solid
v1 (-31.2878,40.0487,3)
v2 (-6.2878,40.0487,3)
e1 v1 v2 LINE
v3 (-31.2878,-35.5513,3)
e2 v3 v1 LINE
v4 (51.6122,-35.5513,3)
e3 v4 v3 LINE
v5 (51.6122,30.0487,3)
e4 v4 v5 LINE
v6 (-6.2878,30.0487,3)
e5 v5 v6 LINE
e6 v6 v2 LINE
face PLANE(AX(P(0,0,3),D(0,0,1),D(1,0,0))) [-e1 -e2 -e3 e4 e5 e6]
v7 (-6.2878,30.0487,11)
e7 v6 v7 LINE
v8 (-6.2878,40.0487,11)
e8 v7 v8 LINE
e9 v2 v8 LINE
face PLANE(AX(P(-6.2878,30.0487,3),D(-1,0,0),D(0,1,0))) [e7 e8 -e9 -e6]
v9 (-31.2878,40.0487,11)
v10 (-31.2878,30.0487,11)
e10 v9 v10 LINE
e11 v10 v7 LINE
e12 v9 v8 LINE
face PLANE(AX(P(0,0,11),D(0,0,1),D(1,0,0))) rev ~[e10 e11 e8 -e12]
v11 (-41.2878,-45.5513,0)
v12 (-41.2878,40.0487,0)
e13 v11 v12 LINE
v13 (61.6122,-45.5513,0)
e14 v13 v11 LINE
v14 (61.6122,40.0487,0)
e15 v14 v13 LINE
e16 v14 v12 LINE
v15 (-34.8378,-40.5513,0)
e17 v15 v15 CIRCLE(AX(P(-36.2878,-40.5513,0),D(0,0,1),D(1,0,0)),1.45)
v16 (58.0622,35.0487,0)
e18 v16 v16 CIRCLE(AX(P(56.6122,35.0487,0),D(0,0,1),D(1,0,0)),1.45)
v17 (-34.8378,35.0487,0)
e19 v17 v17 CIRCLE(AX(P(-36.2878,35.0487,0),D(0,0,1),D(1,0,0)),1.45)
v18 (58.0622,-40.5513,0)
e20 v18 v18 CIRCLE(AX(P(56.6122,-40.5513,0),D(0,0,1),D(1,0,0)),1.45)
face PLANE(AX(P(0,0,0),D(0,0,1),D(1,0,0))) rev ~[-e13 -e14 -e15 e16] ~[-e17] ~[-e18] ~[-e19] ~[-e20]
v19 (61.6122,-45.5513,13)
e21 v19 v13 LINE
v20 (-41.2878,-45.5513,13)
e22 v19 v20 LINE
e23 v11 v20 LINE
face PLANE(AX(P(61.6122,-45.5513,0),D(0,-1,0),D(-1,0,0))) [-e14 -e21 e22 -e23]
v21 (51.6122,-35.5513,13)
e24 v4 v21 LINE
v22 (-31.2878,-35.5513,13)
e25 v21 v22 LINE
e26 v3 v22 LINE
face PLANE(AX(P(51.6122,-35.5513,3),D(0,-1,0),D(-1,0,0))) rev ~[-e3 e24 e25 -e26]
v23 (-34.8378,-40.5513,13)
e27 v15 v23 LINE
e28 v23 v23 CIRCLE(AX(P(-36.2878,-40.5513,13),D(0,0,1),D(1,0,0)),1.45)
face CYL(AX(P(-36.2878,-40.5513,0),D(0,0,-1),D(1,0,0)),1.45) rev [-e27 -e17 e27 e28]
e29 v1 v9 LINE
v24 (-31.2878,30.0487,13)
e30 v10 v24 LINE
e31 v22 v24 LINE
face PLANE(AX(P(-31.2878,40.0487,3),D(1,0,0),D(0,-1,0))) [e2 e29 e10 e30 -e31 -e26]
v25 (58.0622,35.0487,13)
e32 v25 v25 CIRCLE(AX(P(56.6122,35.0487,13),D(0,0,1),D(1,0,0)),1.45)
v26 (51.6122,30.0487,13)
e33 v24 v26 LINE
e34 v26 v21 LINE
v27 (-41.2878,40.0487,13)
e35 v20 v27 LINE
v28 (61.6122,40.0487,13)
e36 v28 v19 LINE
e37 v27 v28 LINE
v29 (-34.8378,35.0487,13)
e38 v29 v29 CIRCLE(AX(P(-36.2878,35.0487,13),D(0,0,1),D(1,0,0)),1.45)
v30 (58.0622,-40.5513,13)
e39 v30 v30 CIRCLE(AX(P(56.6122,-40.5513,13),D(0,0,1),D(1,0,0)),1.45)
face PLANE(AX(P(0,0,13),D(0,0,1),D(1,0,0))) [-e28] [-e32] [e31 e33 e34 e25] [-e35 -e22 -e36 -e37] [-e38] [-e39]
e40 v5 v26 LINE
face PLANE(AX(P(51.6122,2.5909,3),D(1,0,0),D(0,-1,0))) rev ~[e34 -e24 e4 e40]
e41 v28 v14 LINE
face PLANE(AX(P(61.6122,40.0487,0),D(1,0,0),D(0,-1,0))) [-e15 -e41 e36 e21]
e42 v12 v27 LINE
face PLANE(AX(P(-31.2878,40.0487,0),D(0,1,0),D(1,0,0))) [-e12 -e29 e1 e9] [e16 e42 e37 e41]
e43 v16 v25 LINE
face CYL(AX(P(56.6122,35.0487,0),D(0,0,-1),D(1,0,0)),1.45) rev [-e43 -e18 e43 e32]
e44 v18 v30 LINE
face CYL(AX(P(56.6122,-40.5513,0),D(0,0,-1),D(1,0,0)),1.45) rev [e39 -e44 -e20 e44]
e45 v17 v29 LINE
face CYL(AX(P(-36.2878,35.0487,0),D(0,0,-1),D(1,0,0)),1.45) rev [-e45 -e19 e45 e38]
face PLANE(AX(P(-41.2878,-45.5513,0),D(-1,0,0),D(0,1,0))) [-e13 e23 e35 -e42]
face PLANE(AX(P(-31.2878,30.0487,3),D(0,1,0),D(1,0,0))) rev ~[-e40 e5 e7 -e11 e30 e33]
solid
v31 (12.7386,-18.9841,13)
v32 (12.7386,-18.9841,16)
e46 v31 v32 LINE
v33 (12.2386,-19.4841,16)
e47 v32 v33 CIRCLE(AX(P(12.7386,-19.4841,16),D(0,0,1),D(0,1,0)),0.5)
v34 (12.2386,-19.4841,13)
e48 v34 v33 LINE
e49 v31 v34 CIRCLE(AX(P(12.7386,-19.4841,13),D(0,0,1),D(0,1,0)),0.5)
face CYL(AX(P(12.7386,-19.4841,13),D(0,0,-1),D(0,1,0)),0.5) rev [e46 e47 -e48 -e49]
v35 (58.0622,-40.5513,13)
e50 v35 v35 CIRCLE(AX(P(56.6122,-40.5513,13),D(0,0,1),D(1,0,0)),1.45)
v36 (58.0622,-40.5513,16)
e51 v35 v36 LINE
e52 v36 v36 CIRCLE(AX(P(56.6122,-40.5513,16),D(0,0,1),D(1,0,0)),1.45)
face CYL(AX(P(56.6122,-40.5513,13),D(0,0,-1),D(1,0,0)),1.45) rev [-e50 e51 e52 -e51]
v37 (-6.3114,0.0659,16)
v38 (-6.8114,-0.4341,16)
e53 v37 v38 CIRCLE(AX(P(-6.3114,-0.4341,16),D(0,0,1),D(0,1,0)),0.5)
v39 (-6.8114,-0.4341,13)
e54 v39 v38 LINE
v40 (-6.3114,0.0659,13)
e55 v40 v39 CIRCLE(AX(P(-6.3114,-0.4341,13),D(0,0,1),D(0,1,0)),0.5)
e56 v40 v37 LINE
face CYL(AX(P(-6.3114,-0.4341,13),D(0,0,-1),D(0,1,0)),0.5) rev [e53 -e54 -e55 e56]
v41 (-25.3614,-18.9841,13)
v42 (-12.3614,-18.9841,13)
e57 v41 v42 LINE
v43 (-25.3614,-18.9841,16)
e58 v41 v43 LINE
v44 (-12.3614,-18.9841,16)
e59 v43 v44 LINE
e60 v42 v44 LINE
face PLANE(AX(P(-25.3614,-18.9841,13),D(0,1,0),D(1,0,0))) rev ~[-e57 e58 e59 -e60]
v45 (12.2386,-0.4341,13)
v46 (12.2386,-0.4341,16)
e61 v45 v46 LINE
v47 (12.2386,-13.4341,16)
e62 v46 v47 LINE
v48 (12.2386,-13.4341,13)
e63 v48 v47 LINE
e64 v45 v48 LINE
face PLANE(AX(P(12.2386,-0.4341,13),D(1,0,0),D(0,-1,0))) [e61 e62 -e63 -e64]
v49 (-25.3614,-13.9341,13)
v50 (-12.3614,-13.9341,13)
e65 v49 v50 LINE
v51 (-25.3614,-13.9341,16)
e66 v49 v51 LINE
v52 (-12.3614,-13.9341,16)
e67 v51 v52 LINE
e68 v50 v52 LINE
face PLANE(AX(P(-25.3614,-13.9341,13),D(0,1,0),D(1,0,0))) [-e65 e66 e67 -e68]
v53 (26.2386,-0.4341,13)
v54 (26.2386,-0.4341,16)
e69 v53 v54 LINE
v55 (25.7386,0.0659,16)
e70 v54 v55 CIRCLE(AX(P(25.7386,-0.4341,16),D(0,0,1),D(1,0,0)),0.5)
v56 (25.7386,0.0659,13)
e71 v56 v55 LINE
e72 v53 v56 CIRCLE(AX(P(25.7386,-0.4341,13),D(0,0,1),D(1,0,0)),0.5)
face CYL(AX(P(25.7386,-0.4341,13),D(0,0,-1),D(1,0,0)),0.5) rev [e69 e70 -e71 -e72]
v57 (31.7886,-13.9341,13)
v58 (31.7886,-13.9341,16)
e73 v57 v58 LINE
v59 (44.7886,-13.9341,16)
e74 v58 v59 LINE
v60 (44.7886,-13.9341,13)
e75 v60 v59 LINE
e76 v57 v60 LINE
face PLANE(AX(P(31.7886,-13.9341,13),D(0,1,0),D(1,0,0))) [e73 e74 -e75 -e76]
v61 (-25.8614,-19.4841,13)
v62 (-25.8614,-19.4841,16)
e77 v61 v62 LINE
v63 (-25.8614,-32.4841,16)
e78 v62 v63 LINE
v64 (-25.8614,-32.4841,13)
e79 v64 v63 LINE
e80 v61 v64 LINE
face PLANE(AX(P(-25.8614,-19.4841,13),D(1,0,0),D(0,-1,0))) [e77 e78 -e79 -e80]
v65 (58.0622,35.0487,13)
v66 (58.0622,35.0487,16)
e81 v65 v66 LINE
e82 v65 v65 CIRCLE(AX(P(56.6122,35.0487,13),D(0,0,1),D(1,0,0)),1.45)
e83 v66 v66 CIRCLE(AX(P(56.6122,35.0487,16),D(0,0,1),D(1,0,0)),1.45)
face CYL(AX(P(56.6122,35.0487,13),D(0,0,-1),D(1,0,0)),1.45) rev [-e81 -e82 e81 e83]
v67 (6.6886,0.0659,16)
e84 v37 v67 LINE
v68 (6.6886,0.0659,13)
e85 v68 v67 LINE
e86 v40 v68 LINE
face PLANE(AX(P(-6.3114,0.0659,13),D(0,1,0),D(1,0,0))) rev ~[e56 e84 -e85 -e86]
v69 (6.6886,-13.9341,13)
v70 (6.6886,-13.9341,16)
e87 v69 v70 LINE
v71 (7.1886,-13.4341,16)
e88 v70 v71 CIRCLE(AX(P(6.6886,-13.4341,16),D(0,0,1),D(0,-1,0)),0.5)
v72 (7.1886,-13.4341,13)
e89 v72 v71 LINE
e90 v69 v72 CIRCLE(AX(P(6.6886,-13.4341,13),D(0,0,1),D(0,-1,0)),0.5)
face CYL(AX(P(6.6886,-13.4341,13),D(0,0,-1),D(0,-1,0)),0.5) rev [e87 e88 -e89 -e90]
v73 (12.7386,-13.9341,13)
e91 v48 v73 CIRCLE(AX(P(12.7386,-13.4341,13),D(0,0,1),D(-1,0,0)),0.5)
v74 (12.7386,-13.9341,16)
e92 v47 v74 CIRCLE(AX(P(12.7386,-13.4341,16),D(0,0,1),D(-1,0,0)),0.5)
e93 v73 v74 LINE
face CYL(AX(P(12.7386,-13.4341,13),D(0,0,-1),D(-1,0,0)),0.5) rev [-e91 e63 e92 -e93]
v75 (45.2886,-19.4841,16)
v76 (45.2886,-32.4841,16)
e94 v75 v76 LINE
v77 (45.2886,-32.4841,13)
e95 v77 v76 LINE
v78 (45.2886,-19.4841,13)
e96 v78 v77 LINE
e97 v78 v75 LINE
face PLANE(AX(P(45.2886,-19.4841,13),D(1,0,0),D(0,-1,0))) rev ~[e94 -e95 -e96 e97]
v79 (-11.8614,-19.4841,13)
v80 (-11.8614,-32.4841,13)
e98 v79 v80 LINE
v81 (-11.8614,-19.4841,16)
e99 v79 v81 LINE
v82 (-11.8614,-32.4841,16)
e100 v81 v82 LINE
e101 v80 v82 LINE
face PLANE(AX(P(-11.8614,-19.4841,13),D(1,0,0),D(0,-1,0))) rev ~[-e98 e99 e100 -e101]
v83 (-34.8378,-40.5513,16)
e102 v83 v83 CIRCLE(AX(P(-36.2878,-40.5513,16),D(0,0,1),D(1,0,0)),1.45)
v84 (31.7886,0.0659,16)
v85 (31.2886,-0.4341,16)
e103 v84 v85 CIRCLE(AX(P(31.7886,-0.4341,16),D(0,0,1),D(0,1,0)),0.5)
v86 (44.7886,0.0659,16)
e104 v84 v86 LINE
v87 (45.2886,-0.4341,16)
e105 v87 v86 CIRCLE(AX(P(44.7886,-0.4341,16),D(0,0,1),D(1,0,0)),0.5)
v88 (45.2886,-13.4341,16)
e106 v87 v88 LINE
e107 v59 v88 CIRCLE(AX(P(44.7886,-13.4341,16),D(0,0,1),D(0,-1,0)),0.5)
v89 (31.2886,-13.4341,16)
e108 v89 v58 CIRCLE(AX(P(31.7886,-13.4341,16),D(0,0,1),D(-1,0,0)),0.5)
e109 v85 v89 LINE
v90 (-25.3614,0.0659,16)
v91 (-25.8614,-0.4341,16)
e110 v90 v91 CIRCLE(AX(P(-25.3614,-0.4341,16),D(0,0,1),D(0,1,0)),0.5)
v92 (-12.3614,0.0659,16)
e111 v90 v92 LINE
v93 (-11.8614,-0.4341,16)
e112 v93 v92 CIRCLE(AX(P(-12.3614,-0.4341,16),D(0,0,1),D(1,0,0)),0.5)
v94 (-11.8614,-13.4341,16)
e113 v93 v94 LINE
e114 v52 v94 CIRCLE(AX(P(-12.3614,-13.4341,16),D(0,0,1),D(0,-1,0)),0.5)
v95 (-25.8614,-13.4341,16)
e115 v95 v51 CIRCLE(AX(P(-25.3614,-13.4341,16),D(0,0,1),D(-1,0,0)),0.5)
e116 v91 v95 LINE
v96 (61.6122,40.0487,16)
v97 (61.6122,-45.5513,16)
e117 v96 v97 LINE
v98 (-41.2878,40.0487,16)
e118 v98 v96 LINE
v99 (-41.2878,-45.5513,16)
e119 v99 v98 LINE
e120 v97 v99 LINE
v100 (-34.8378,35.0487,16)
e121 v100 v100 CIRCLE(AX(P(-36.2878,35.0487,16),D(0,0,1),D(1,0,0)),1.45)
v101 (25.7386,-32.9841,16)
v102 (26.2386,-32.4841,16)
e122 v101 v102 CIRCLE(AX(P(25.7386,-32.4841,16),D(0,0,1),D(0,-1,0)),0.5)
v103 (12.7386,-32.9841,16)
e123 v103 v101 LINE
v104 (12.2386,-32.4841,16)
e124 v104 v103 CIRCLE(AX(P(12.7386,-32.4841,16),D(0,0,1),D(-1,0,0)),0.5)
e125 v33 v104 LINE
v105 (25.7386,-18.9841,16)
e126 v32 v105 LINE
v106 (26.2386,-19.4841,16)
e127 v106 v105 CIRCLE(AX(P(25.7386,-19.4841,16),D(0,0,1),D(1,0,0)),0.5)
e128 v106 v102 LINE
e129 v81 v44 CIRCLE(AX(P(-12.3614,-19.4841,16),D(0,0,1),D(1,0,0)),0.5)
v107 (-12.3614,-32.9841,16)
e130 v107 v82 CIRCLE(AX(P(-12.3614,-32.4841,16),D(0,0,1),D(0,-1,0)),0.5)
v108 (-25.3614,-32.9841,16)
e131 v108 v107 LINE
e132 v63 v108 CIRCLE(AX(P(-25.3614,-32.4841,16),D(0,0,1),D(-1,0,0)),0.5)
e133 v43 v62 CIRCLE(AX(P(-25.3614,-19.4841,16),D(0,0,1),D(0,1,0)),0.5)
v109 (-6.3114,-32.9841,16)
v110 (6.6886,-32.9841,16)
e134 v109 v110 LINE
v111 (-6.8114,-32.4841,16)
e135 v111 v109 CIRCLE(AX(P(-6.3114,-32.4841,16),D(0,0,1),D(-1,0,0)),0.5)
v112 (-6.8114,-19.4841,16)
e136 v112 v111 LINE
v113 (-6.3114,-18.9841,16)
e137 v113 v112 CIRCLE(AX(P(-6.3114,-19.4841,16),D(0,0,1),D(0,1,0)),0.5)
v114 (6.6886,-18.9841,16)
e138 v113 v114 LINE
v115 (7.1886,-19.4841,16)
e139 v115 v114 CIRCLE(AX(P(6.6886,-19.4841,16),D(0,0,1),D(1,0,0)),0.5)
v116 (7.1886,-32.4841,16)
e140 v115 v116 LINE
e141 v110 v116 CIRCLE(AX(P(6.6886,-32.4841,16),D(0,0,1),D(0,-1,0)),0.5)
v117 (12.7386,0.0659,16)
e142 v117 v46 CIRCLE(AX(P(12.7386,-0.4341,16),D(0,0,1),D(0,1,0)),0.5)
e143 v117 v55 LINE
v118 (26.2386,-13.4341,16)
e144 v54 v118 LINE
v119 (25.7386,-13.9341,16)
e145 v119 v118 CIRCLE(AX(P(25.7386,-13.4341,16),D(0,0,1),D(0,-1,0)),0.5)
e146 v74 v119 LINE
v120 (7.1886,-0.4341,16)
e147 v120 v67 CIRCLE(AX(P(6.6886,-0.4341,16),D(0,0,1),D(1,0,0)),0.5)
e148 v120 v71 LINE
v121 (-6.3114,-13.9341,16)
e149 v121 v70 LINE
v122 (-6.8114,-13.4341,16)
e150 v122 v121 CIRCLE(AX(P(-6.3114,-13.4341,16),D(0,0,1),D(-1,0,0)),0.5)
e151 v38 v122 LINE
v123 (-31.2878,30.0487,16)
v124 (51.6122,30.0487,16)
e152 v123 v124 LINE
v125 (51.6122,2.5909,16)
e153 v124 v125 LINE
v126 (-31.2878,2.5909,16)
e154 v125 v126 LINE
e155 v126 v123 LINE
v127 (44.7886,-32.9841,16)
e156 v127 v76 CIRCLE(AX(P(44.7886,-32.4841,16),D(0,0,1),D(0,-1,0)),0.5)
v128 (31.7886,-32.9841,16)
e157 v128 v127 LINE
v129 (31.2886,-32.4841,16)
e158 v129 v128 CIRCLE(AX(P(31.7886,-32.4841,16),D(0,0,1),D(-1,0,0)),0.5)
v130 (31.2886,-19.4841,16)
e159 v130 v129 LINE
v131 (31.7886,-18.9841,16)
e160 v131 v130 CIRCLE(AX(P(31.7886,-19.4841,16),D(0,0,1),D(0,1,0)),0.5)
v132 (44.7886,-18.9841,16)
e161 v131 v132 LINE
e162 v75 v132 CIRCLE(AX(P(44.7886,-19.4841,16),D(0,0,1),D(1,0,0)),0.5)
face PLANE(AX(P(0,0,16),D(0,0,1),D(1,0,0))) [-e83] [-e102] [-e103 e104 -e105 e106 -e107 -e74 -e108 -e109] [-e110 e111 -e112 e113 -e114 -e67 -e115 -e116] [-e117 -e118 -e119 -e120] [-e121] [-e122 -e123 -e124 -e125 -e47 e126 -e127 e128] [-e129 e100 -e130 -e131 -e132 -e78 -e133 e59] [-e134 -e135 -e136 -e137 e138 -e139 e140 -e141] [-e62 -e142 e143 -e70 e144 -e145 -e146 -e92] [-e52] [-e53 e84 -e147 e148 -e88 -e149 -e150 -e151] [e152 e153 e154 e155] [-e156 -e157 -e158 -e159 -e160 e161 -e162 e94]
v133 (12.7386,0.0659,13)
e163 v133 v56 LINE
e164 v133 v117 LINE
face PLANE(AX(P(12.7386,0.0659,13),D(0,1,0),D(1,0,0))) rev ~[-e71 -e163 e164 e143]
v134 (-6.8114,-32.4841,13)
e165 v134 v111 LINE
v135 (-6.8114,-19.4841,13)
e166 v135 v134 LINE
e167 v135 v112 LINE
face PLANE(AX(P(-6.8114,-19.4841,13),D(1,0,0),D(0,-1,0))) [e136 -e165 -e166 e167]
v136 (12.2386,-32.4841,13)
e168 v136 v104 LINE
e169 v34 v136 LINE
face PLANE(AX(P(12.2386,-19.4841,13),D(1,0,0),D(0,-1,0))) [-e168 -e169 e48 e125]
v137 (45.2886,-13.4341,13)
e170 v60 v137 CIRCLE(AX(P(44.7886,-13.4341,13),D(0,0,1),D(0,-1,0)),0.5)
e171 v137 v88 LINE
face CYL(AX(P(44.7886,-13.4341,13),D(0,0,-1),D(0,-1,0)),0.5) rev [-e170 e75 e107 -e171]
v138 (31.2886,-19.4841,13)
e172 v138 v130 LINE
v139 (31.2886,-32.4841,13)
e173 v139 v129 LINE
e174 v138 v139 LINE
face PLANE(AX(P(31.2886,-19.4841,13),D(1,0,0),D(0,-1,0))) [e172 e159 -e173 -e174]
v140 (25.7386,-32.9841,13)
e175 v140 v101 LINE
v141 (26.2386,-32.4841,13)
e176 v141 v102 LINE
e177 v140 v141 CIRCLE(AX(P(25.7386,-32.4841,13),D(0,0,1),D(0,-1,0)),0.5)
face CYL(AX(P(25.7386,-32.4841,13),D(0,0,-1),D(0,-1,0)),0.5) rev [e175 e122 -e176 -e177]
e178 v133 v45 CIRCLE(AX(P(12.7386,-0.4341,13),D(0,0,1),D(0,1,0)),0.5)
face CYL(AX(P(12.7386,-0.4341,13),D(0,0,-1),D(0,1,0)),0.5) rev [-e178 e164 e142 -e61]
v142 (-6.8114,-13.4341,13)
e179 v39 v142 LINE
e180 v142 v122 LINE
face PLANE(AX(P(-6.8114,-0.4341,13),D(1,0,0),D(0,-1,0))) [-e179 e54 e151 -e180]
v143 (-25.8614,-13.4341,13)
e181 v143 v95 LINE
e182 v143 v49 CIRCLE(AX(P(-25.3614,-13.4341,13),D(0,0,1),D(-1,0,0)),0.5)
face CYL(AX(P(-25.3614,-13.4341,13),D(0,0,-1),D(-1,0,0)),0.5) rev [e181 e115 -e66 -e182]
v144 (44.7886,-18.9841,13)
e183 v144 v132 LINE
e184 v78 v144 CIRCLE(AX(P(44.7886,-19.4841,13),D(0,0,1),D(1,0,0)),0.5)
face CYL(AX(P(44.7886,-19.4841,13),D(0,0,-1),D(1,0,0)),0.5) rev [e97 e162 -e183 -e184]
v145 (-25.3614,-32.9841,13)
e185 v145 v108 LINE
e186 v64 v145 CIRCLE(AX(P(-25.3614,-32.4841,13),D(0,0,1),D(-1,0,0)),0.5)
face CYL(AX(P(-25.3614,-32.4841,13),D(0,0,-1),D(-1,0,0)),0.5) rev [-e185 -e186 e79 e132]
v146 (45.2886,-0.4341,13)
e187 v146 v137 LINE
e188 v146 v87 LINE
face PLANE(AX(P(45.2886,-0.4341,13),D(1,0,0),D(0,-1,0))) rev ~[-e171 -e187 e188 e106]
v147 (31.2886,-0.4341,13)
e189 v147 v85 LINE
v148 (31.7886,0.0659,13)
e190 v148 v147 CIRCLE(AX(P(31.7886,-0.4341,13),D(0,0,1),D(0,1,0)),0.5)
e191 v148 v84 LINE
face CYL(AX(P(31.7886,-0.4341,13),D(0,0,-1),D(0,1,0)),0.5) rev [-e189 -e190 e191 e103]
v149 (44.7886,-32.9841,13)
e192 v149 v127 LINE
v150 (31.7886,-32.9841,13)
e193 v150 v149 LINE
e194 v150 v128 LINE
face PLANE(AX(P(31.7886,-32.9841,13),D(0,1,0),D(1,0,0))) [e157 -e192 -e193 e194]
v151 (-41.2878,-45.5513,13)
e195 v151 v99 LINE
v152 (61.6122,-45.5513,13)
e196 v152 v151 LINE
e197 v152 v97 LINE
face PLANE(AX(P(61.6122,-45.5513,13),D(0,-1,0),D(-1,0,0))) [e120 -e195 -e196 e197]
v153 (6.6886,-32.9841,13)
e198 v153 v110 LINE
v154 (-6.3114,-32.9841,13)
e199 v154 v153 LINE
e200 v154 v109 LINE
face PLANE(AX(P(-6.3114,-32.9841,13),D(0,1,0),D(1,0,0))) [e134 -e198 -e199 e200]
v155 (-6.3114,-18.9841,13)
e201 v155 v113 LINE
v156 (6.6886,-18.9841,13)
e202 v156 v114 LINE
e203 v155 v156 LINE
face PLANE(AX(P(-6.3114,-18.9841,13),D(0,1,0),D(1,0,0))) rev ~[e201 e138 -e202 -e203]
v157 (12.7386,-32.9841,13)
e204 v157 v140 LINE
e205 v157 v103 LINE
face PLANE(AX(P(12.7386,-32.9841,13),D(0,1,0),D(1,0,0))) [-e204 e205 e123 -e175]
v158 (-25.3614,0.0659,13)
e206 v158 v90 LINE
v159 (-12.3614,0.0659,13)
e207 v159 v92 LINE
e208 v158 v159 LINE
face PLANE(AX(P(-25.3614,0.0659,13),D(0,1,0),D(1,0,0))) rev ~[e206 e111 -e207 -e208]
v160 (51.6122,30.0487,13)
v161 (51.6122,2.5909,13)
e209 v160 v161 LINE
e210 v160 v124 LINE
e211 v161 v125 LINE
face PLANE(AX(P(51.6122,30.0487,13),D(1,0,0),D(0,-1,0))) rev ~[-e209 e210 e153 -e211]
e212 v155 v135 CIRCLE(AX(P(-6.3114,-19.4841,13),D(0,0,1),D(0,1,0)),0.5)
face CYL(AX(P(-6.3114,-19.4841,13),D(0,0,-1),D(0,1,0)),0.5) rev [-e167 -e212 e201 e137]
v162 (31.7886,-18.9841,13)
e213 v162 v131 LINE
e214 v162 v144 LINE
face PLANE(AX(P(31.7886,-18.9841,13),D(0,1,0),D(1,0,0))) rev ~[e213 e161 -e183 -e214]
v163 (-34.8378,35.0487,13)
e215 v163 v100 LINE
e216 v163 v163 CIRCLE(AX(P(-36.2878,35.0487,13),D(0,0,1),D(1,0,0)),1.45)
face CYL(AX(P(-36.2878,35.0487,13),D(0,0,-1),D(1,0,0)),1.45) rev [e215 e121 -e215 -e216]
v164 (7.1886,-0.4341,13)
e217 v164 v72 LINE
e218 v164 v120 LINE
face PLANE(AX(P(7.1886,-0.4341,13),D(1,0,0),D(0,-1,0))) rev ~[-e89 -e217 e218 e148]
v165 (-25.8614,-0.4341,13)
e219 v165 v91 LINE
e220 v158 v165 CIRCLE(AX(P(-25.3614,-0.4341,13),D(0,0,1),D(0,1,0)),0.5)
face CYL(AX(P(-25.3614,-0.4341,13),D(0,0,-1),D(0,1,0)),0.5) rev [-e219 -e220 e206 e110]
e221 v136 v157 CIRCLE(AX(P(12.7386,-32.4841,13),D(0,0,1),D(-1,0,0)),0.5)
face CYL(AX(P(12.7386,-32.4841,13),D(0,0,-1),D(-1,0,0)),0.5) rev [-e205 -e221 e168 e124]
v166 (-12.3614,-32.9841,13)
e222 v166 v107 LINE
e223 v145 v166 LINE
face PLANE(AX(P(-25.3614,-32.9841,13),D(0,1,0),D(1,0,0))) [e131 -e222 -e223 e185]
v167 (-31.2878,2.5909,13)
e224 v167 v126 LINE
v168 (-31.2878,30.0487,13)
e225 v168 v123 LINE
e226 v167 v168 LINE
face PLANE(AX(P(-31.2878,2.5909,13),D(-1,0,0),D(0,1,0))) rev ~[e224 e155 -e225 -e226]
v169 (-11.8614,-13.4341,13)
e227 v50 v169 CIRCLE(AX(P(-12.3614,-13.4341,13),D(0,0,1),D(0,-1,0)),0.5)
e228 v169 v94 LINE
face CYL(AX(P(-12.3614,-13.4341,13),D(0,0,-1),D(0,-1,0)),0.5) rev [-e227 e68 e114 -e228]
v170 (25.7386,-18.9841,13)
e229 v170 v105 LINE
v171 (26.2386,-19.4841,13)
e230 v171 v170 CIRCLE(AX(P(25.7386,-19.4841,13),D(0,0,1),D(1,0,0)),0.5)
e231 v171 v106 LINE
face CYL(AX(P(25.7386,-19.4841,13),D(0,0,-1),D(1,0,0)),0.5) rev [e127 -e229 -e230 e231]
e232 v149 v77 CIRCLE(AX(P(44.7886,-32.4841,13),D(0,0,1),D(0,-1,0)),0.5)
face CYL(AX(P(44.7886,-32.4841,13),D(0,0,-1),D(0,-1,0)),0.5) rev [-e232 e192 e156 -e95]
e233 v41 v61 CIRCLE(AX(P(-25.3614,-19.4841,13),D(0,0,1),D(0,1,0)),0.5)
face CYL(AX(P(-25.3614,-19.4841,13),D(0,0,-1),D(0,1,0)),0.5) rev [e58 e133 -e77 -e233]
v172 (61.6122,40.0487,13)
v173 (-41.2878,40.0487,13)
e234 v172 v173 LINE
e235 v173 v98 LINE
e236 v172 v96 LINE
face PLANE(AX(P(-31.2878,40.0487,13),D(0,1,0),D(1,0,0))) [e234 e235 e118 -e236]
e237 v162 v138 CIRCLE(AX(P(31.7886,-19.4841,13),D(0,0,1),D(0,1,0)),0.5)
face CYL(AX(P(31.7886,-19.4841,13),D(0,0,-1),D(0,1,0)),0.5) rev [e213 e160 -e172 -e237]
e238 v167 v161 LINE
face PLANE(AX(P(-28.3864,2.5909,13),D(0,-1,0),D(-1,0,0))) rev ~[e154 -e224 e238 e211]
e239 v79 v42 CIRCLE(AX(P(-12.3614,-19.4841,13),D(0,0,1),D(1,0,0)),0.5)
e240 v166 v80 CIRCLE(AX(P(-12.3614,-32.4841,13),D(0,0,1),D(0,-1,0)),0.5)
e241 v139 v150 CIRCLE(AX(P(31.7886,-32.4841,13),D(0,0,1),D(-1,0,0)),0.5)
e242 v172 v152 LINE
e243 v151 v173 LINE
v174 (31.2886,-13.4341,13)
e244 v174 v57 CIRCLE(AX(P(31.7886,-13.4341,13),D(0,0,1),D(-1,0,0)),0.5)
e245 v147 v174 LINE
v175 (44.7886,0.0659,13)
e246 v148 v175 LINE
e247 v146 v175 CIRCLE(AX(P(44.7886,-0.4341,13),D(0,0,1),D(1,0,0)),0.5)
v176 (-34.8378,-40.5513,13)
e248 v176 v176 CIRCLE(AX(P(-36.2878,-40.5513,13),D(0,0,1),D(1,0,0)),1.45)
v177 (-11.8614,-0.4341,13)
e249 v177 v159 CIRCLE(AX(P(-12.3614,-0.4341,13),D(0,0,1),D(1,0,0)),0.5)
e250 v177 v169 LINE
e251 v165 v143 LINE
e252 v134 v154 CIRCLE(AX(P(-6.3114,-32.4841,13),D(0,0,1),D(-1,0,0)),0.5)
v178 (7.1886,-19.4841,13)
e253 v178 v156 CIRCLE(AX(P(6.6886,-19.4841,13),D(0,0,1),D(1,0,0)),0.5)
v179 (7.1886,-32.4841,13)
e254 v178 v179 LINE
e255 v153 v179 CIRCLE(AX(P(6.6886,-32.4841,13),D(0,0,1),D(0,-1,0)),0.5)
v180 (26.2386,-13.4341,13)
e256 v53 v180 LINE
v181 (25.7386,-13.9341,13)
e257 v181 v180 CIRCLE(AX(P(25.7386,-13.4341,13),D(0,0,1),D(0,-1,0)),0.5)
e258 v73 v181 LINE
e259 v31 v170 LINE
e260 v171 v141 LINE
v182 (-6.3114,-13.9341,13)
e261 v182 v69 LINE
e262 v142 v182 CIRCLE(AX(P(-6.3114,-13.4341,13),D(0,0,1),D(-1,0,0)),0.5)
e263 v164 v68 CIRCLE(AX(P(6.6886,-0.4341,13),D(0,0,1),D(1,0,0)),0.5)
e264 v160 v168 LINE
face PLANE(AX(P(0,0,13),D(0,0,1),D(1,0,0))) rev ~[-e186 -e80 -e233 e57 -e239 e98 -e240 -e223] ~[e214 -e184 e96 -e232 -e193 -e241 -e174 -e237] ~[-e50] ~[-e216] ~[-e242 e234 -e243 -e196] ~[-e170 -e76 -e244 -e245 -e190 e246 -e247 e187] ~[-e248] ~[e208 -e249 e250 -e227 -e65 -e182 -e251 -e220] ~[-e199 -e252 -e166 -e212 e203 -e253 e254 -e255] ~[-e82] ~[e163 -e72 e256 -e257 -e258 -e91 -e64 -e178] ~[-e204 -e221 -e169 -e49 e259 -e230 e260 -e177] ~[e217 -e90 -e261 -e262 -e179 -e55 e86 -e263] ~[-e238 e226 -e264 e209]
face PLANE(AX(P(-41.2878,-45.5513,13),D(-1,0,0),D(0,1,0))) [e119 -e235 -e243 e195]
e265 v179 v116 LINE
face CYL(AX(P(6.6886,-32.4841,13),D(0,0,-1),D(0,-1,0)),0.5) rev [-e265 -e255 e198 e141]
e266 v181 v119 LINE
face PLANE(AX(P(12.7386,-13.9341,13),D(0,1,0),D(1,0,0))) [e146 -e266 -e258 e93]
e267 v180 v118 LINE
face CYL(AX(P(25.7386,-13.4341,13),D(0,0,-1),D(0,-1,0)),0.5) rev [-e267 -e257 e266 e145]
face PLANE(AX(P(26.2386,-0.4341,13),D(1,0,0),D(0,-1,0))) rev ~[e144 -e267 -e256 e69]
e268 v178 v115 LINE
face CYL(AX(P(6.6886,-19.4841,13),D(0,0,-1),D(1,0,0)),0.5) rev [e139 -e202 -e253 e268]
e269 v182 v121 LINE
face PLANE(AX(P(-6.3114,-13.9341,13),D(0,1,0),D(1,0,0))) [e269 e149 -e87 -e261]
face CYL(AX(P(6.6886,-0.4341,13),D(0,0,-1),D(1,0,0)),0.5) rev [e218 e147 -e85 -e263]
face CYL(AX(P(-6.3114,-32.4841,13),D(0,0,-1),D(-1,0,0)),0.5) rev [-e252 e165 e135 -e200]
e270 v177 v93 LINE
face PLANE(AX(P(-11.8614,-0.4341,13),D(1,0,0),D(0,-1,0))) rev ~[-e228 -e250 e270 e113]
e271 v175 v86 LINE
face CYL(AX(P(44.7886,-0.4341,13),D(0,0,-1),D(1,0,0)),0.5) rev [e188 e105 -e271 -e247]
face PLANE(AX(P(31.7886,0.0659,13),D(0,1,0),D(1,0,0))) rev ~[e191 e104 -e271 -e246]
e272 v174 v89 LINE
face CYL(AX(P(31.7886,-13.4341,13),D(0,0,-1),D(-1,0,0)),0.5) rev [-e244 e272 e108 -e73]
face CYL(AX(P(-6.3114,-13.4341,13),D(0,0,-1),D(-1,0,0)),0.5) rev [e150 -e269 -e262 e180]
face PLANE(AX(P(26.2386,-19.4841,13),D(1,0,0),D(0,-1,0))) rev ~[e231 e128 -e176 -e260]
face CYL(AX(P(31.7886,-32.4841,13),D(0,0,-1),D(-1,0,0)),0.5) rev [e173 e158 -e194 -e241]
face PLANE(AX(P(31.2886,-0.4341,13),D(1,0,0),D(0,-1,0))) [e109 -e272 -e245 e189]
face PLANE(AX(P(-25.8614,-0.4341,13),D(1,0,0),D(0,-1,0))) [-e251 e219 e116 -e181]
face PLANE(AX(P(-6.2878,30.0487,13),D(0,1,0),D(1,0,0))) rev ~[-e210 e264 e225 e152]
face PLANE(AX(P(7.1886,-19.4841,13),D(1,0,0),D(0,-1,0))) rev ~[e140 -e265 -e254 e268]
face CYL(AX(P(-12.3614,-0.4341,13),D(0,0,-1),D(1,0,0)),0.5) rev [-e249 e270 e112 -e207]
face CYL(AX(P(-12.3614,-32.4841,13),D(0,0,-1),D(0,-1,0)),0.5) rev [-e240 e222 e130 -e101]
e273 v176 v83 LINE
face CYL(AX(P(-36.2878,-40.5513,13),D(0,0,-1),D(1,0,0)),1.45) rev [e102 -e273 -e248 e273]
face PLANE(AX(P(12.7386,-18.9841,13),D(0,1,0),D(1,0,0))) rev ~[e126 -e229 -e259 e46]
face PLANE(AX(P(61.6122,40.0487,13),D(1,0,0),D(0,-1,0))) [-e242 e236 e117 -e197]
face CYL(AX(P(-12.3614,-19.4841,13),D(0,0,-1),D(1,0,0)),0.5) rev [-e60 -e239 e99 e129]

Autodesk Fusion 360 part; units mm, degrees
sketch "Sketch2" plane through (0, 0, 0) normal (0, 0, 1) x (1, 0, 0)
  line L0 (-31.2878, 30.0487) -> (51.6122, 30.0487)
  line L1 (51.6122, 30.0487) -> (51.6122, -35.5513)
  line L2 (51.6122, -35.5513) -> (-31.2878, -35.5513)
  line L3 (-31.2878, -35.5513) -> (-31.2878, 30.0487)
  line L4 (-41.2878, 40.0487) -> (61.6122, 40.0487)
  line L5 (61.6122, 40.0487) -> (61.6122, -45.5513)
  line L6 (61.6122, -45.5513) -> (-41.2878, -45.5513)
  line L7 (-41.2878, -45.5513) -> (-41.2878, 40.0487)
  circle A0 centre (-36.2878, 35.0487) radius 1.45
  circle A1 centre (56.6122, 35.0487) radius 1.45
  circle A2 centre (56.6122, -40.5513) radius 1.45
  circle A3 centre (-36.2878, -40.5513) radius 1.45
  line L8 (-25.3614, 0.0659) -> (-12.3614, 0.0659)
  line L9 (-25.3614, -13.9341) -> (-12.3614, -13.9341)
  line L10 (-25.8614, -0.4341) -> (-25.8614, -13.4341)
  line L11 (-11.8614, -0.4341) -> (-11.8614, -13.4341)
  arc A4 (-25.3614, 0.0659) -> (-25.8614, -0.4341) centre (-25.3614, -0.4341) ccw
  arc A5 (-11.8614, -0.4341) -> (-12.3614, 0.0659) centre (-12.3614, -0.4341) ccw
  arc A6 (-25.8614, -13.4341) -> (-25.3614, -13.9341) centre (-25.3614, -13.4341) ccw
  arc A7 (-12.3614, -13.9341) -> (-11.8614, -13.4341) centre (-12.3614, -13.4341) ccw
  line L12 (-6.3114, 0.0659) -> (6.6886, 0.0659)
  line L13 (-6.3114, -13.9341) -> (6.6886, -13.9341)
  line L14 (-6.8114, -0.4341) -> (-6.8114, -13.4341)
  line L15 (7.1886, -0.4341) -> (7.1886, -13.4341)
  arc A8 (-6.3114, 0.0659) -> (-6.8114, -0.4341) centre (-6.3114, -0.4341) ccw
  arc A9 (7.1886, -0.4341) -> (6.6886, 0.0659) centre (6.6886, -0.4341) ccw
  arc A10 (-6.8114, -13.4341) -> (-6.3114, -13.9341) centre (-6.3114, -13.4341) ccw
  arc A11 (6.6886, -13.9341) -> (7.1886, -13.4341) centre (6.6886, -13.4341) ccw
  line L16 (12.7386, 0.0659) -> (25.7386, 0.0659)
  line L17 (12.7386, -13.9341) -> (25.7386, -13.9341)
  line L18 (12.2386, -0.4341) -> (12.2386, -13.4341)
  line L19 (26.2386, -0.4341) -> (26.2386, -13.4341)
  arc A12 (12.7386, 0.0659) -> (12.2386, -0.4341) centre (12.7386, -0.4341) ccw
  arc A13 (26.2386, -0.4341) -> (25.7386, 0.0659) centre (25.7386, -0.4341) ccw
  arc A14 (12.2386, -13.4341) -> (12.7386, -13.9341) centre (12.7386, -13.4341) ccw
  arc A15 (25.7386, -13.9341) -> (26.2386, -13.4341) centre (25.7386, -13.4341) ccw
  line L20 (31.7886, 0.0659) -> (44.7886, 0.0659)
  line L21 (31.7886, -13.9341) -> (44.7886, -13.9341)
  line L22 (31.2886, -0.4341) -> (31.2886, -13.4341)
  line L23 (45.2886, -0.4341) -> (45.2886, -13.4341)
  arc A16 (31.7886, 0.0659) -> (31.2886, -0.4341) centre (31.7886, -0.4341) ccw
  arc A17 (45.2886, -0.4341) -> (44.7886, 0.0659) centre (44.7886, -0.4341) ccw
  arc A18 (31.2886, -13.4341) -> (31.7886, -13.9341) centre (31.7886, -13.4341) ccw
  arc A19 (44.7886, -13.9341) -> (45.2886, -13.4341) centre (44.7886, -13.4341) ccw
  line L24 (-25.3614, -18.9841) -> (-12.3614, -18.9841)
  line L25 (-25.3614, -32.9841) -> (-12.3614, -32.9841)
  line L26 (-25.8614, -19.4841) -> (-25.8614, -32.4841)
  line L27 (-11.8614, -19.4841) -> (-11.8614, -32.4841)
  arc A20 (-25.3614, -18.9841) -> (-25.8614, -19.4841) centre (-25.3614, -19.4841) ccw
  arc A21 (-11.8614, -19.4841) -> (-12.3614, -18.9841) centre (-12.3614, -19.4841) ccw
  arc A22 (-25.8614, -32.4841) -> (-25.3614, -32.9841) centre (-25.3614, -32.4841) ccw
  arc A23 (-12.3614, -32.9841) -> (-11.8614, -32.4841) centre (-12.3614, -32.4841) ccw
  line L28 (-6.3114, -18.9841) -> (6.6886, -18.9841)
  line L29 (-6.3114, -32.9841) -> (6.6886, -32.9841)
  line L30 (-6.8114, -19.4841) -> (-6.8114, -32.4841)
  line L31 (7.1886, -19.4841) -> (7.1886, -32.4841)
  arc A24 (-6.3114, -18.9841) -> (-6.8114, -19.4841) centre (-6.3114, -19.4841) ccw
  arc A25 (7.1886, -19.4841) -> (6.6886, -18.9841) centre (6.6886, -19.4841) ccw
  arc A26 (-6.8114, -32.4841) -> (-6.3114, -32.9841) centre (-6.3114, -32.4841) ccw
  arc A27 (6.6886, -32.9841) -> (7.1886, -32.4841) centre (6.6886, -32.4841) ccw
  line L32 (12.7386, -18.9841) -> (25.7386, -18.9841)
  line L33 (12.7386, -32.9841) -> (25.7386, -32.9841)
  line L34 (12.2386, -19.4841) -> (12.2386, -32.4841)
  line L35 (26.2386, -19.4841) -> (26.2386, -32.4841)
  arc A28 (12.7386, -18.9841) -> (12.2386, -19.4841) centre (12.7386, -19.4841) ccw
  arc A29 (26.2386, -19.4841) -> (25.7386, -18.9841) centre (25.7386, -19.4841) ccw
  arc A30 (12.2386, -32.4841) -> (12.7386, -32.9841) centre (12.7386, -32.4841) ccw
  arc A31 (25.7386, -32.9841) -> (26.2386, -32.4841) centre (25.7386, -32.4841) ccw
  line L36 (31.7886, -18.9841) -> (44.7886, -18.9841)
  line L37 (31.7886, -32.9841) -> (44.7886, -32.9841)
  line L38 (31.2886, -19.4841) -> (31.2886, -32.4841)
  line L39 (45.2886, -19.4841) -> (45.2886, -32.4841)
  arc A32 (31.7886, -18.9841) -> (31.2886, -19.4841) centre (31.7886, -19.4841) ccw
  arc A33 (45.2886, -19.4841) -> (44.7886, -18.9841) centre (44.7886, -19.4841) ccw
  arc A34 (31.2886, -32.4841) -> (31.7886, -32.9841) centre (31.7886, -32.4841) ccw
  arc A35 (44.7886, -32.9841) -> (45.2886, -32.4841) centre (44.7886, -32.4841) ccw
  line L40 (-28.3864, -35.5091) -> (47.8136, -35.5091)
  line L41 (-28.3864, 2.5909) -> (47.8136, 2.5909)
  line L42 (-28.3864, -35.5091) -> (-28.3864, 2.5909)
  line L43 (47.8136, -35.5091) -> (47.8136, 2.5909)
  line L44 (-31.2878, 30.0487) -> (51.6122, 30.0487)
  line L45 (51.6122, 30.0487) -> (51.6122, 2.5909)
  line L46 (51.6122, 2.5909) -> (-31.2878, 2.5909)
  line L47 (-31.2878, 2.5909) -> (-31.2878, 30.0487)
  line L48 (-31.2878, 30.0487) -> (-6.2878, 30.0487)
  line L49 (-6.2878, 30.0487) -> (-6.2878, 40.0487)
  line L50 (-6.2878, 40.0487) -> (-31.2878, 40.0487)
  line L51 (-31.2878, 40.0487) -> (-31.2878, 30.0487)
  dimension "d3" = 65.6
  dimension "d4" = 82.9
  dimension "d5" = 10
  dimension "d6" = 10
  dimension "d7" = 10
  dimension "d8" = 10
  dimension "d9" = 2.9
  dimension "d10" = 5
  dimension "d11" = 5
  dimension "d12" = 2.9
  dimension "d13" = 5
  dimension "d14" = 5
  dimension "d15" = 2.9
  dimension "d16" = 5
  dimension "d17" = 5
  dimension "d18" = 2.9
  dimension "d19" = 5
  dimension "d20" = 5
  dimension "d32" = 25
extrude "Extrude1" add sketch "Sketch2" along normal blind 3 contours L0 L4 L44 L48 L49 L50 L51 | L0 L1 L3 L41 L44 L45 L46 L47 L48 | L0 L1 L2 L3 L4 L5 L6 L7 L44 L45 L47 L49 L51 | L1 L2 L3 L40 L42 L43 L46 | L40 L41 L42 L43 L46 | L8 L9 L10 L11 A4 A5 A6 A7 | L12 L13 L14 L15 A8 A9 A10 A11 | L16 L17 L18 L19 A12 A13 A14 A15 | L20 L21 L22 L23 A16 A17 A18 A19 | L24 L25 L26 L27 A20 A21 A22 A23 | L28 L29 L30 L31 A24 A25 A26 A27 | L32 L33 L34 L35 A28 A29 A30 A31 | L36 L37 L38 L39 A32 A33 A34 A35 makes body 1
extrude "Extrude2" add sketch "Sketch2" along normal blind 10 from surface at 3 contours L0 L4 L44 L48 L49 L50 L51 | L0 L1 L2 L3 L4 L5 L6 L7 L44 L45 L47 L49 L51 bodies 1
extrude "Extrude3" add sketch "Sketch2" along normal blind 3 from surface at 13 separate body makes body 2
extrude "Extrude4" add sketch "Sketch2" along normal blind 3 from surface at 13 separate body contours L0 L1 L3 L41 L44 L45 L46 L47 L48 makes body 3
combine "Combine1" operation cut target body 2 tool bodies 3
extrude "Extrude5" add sketch "Sketch2" along normal blind 8 from surface at 3 separate body contours L0 L4 L44 L48 L49 L50 L51 makes body 4
combine "Combine2" operation cut target body 1 tool bodies 4
